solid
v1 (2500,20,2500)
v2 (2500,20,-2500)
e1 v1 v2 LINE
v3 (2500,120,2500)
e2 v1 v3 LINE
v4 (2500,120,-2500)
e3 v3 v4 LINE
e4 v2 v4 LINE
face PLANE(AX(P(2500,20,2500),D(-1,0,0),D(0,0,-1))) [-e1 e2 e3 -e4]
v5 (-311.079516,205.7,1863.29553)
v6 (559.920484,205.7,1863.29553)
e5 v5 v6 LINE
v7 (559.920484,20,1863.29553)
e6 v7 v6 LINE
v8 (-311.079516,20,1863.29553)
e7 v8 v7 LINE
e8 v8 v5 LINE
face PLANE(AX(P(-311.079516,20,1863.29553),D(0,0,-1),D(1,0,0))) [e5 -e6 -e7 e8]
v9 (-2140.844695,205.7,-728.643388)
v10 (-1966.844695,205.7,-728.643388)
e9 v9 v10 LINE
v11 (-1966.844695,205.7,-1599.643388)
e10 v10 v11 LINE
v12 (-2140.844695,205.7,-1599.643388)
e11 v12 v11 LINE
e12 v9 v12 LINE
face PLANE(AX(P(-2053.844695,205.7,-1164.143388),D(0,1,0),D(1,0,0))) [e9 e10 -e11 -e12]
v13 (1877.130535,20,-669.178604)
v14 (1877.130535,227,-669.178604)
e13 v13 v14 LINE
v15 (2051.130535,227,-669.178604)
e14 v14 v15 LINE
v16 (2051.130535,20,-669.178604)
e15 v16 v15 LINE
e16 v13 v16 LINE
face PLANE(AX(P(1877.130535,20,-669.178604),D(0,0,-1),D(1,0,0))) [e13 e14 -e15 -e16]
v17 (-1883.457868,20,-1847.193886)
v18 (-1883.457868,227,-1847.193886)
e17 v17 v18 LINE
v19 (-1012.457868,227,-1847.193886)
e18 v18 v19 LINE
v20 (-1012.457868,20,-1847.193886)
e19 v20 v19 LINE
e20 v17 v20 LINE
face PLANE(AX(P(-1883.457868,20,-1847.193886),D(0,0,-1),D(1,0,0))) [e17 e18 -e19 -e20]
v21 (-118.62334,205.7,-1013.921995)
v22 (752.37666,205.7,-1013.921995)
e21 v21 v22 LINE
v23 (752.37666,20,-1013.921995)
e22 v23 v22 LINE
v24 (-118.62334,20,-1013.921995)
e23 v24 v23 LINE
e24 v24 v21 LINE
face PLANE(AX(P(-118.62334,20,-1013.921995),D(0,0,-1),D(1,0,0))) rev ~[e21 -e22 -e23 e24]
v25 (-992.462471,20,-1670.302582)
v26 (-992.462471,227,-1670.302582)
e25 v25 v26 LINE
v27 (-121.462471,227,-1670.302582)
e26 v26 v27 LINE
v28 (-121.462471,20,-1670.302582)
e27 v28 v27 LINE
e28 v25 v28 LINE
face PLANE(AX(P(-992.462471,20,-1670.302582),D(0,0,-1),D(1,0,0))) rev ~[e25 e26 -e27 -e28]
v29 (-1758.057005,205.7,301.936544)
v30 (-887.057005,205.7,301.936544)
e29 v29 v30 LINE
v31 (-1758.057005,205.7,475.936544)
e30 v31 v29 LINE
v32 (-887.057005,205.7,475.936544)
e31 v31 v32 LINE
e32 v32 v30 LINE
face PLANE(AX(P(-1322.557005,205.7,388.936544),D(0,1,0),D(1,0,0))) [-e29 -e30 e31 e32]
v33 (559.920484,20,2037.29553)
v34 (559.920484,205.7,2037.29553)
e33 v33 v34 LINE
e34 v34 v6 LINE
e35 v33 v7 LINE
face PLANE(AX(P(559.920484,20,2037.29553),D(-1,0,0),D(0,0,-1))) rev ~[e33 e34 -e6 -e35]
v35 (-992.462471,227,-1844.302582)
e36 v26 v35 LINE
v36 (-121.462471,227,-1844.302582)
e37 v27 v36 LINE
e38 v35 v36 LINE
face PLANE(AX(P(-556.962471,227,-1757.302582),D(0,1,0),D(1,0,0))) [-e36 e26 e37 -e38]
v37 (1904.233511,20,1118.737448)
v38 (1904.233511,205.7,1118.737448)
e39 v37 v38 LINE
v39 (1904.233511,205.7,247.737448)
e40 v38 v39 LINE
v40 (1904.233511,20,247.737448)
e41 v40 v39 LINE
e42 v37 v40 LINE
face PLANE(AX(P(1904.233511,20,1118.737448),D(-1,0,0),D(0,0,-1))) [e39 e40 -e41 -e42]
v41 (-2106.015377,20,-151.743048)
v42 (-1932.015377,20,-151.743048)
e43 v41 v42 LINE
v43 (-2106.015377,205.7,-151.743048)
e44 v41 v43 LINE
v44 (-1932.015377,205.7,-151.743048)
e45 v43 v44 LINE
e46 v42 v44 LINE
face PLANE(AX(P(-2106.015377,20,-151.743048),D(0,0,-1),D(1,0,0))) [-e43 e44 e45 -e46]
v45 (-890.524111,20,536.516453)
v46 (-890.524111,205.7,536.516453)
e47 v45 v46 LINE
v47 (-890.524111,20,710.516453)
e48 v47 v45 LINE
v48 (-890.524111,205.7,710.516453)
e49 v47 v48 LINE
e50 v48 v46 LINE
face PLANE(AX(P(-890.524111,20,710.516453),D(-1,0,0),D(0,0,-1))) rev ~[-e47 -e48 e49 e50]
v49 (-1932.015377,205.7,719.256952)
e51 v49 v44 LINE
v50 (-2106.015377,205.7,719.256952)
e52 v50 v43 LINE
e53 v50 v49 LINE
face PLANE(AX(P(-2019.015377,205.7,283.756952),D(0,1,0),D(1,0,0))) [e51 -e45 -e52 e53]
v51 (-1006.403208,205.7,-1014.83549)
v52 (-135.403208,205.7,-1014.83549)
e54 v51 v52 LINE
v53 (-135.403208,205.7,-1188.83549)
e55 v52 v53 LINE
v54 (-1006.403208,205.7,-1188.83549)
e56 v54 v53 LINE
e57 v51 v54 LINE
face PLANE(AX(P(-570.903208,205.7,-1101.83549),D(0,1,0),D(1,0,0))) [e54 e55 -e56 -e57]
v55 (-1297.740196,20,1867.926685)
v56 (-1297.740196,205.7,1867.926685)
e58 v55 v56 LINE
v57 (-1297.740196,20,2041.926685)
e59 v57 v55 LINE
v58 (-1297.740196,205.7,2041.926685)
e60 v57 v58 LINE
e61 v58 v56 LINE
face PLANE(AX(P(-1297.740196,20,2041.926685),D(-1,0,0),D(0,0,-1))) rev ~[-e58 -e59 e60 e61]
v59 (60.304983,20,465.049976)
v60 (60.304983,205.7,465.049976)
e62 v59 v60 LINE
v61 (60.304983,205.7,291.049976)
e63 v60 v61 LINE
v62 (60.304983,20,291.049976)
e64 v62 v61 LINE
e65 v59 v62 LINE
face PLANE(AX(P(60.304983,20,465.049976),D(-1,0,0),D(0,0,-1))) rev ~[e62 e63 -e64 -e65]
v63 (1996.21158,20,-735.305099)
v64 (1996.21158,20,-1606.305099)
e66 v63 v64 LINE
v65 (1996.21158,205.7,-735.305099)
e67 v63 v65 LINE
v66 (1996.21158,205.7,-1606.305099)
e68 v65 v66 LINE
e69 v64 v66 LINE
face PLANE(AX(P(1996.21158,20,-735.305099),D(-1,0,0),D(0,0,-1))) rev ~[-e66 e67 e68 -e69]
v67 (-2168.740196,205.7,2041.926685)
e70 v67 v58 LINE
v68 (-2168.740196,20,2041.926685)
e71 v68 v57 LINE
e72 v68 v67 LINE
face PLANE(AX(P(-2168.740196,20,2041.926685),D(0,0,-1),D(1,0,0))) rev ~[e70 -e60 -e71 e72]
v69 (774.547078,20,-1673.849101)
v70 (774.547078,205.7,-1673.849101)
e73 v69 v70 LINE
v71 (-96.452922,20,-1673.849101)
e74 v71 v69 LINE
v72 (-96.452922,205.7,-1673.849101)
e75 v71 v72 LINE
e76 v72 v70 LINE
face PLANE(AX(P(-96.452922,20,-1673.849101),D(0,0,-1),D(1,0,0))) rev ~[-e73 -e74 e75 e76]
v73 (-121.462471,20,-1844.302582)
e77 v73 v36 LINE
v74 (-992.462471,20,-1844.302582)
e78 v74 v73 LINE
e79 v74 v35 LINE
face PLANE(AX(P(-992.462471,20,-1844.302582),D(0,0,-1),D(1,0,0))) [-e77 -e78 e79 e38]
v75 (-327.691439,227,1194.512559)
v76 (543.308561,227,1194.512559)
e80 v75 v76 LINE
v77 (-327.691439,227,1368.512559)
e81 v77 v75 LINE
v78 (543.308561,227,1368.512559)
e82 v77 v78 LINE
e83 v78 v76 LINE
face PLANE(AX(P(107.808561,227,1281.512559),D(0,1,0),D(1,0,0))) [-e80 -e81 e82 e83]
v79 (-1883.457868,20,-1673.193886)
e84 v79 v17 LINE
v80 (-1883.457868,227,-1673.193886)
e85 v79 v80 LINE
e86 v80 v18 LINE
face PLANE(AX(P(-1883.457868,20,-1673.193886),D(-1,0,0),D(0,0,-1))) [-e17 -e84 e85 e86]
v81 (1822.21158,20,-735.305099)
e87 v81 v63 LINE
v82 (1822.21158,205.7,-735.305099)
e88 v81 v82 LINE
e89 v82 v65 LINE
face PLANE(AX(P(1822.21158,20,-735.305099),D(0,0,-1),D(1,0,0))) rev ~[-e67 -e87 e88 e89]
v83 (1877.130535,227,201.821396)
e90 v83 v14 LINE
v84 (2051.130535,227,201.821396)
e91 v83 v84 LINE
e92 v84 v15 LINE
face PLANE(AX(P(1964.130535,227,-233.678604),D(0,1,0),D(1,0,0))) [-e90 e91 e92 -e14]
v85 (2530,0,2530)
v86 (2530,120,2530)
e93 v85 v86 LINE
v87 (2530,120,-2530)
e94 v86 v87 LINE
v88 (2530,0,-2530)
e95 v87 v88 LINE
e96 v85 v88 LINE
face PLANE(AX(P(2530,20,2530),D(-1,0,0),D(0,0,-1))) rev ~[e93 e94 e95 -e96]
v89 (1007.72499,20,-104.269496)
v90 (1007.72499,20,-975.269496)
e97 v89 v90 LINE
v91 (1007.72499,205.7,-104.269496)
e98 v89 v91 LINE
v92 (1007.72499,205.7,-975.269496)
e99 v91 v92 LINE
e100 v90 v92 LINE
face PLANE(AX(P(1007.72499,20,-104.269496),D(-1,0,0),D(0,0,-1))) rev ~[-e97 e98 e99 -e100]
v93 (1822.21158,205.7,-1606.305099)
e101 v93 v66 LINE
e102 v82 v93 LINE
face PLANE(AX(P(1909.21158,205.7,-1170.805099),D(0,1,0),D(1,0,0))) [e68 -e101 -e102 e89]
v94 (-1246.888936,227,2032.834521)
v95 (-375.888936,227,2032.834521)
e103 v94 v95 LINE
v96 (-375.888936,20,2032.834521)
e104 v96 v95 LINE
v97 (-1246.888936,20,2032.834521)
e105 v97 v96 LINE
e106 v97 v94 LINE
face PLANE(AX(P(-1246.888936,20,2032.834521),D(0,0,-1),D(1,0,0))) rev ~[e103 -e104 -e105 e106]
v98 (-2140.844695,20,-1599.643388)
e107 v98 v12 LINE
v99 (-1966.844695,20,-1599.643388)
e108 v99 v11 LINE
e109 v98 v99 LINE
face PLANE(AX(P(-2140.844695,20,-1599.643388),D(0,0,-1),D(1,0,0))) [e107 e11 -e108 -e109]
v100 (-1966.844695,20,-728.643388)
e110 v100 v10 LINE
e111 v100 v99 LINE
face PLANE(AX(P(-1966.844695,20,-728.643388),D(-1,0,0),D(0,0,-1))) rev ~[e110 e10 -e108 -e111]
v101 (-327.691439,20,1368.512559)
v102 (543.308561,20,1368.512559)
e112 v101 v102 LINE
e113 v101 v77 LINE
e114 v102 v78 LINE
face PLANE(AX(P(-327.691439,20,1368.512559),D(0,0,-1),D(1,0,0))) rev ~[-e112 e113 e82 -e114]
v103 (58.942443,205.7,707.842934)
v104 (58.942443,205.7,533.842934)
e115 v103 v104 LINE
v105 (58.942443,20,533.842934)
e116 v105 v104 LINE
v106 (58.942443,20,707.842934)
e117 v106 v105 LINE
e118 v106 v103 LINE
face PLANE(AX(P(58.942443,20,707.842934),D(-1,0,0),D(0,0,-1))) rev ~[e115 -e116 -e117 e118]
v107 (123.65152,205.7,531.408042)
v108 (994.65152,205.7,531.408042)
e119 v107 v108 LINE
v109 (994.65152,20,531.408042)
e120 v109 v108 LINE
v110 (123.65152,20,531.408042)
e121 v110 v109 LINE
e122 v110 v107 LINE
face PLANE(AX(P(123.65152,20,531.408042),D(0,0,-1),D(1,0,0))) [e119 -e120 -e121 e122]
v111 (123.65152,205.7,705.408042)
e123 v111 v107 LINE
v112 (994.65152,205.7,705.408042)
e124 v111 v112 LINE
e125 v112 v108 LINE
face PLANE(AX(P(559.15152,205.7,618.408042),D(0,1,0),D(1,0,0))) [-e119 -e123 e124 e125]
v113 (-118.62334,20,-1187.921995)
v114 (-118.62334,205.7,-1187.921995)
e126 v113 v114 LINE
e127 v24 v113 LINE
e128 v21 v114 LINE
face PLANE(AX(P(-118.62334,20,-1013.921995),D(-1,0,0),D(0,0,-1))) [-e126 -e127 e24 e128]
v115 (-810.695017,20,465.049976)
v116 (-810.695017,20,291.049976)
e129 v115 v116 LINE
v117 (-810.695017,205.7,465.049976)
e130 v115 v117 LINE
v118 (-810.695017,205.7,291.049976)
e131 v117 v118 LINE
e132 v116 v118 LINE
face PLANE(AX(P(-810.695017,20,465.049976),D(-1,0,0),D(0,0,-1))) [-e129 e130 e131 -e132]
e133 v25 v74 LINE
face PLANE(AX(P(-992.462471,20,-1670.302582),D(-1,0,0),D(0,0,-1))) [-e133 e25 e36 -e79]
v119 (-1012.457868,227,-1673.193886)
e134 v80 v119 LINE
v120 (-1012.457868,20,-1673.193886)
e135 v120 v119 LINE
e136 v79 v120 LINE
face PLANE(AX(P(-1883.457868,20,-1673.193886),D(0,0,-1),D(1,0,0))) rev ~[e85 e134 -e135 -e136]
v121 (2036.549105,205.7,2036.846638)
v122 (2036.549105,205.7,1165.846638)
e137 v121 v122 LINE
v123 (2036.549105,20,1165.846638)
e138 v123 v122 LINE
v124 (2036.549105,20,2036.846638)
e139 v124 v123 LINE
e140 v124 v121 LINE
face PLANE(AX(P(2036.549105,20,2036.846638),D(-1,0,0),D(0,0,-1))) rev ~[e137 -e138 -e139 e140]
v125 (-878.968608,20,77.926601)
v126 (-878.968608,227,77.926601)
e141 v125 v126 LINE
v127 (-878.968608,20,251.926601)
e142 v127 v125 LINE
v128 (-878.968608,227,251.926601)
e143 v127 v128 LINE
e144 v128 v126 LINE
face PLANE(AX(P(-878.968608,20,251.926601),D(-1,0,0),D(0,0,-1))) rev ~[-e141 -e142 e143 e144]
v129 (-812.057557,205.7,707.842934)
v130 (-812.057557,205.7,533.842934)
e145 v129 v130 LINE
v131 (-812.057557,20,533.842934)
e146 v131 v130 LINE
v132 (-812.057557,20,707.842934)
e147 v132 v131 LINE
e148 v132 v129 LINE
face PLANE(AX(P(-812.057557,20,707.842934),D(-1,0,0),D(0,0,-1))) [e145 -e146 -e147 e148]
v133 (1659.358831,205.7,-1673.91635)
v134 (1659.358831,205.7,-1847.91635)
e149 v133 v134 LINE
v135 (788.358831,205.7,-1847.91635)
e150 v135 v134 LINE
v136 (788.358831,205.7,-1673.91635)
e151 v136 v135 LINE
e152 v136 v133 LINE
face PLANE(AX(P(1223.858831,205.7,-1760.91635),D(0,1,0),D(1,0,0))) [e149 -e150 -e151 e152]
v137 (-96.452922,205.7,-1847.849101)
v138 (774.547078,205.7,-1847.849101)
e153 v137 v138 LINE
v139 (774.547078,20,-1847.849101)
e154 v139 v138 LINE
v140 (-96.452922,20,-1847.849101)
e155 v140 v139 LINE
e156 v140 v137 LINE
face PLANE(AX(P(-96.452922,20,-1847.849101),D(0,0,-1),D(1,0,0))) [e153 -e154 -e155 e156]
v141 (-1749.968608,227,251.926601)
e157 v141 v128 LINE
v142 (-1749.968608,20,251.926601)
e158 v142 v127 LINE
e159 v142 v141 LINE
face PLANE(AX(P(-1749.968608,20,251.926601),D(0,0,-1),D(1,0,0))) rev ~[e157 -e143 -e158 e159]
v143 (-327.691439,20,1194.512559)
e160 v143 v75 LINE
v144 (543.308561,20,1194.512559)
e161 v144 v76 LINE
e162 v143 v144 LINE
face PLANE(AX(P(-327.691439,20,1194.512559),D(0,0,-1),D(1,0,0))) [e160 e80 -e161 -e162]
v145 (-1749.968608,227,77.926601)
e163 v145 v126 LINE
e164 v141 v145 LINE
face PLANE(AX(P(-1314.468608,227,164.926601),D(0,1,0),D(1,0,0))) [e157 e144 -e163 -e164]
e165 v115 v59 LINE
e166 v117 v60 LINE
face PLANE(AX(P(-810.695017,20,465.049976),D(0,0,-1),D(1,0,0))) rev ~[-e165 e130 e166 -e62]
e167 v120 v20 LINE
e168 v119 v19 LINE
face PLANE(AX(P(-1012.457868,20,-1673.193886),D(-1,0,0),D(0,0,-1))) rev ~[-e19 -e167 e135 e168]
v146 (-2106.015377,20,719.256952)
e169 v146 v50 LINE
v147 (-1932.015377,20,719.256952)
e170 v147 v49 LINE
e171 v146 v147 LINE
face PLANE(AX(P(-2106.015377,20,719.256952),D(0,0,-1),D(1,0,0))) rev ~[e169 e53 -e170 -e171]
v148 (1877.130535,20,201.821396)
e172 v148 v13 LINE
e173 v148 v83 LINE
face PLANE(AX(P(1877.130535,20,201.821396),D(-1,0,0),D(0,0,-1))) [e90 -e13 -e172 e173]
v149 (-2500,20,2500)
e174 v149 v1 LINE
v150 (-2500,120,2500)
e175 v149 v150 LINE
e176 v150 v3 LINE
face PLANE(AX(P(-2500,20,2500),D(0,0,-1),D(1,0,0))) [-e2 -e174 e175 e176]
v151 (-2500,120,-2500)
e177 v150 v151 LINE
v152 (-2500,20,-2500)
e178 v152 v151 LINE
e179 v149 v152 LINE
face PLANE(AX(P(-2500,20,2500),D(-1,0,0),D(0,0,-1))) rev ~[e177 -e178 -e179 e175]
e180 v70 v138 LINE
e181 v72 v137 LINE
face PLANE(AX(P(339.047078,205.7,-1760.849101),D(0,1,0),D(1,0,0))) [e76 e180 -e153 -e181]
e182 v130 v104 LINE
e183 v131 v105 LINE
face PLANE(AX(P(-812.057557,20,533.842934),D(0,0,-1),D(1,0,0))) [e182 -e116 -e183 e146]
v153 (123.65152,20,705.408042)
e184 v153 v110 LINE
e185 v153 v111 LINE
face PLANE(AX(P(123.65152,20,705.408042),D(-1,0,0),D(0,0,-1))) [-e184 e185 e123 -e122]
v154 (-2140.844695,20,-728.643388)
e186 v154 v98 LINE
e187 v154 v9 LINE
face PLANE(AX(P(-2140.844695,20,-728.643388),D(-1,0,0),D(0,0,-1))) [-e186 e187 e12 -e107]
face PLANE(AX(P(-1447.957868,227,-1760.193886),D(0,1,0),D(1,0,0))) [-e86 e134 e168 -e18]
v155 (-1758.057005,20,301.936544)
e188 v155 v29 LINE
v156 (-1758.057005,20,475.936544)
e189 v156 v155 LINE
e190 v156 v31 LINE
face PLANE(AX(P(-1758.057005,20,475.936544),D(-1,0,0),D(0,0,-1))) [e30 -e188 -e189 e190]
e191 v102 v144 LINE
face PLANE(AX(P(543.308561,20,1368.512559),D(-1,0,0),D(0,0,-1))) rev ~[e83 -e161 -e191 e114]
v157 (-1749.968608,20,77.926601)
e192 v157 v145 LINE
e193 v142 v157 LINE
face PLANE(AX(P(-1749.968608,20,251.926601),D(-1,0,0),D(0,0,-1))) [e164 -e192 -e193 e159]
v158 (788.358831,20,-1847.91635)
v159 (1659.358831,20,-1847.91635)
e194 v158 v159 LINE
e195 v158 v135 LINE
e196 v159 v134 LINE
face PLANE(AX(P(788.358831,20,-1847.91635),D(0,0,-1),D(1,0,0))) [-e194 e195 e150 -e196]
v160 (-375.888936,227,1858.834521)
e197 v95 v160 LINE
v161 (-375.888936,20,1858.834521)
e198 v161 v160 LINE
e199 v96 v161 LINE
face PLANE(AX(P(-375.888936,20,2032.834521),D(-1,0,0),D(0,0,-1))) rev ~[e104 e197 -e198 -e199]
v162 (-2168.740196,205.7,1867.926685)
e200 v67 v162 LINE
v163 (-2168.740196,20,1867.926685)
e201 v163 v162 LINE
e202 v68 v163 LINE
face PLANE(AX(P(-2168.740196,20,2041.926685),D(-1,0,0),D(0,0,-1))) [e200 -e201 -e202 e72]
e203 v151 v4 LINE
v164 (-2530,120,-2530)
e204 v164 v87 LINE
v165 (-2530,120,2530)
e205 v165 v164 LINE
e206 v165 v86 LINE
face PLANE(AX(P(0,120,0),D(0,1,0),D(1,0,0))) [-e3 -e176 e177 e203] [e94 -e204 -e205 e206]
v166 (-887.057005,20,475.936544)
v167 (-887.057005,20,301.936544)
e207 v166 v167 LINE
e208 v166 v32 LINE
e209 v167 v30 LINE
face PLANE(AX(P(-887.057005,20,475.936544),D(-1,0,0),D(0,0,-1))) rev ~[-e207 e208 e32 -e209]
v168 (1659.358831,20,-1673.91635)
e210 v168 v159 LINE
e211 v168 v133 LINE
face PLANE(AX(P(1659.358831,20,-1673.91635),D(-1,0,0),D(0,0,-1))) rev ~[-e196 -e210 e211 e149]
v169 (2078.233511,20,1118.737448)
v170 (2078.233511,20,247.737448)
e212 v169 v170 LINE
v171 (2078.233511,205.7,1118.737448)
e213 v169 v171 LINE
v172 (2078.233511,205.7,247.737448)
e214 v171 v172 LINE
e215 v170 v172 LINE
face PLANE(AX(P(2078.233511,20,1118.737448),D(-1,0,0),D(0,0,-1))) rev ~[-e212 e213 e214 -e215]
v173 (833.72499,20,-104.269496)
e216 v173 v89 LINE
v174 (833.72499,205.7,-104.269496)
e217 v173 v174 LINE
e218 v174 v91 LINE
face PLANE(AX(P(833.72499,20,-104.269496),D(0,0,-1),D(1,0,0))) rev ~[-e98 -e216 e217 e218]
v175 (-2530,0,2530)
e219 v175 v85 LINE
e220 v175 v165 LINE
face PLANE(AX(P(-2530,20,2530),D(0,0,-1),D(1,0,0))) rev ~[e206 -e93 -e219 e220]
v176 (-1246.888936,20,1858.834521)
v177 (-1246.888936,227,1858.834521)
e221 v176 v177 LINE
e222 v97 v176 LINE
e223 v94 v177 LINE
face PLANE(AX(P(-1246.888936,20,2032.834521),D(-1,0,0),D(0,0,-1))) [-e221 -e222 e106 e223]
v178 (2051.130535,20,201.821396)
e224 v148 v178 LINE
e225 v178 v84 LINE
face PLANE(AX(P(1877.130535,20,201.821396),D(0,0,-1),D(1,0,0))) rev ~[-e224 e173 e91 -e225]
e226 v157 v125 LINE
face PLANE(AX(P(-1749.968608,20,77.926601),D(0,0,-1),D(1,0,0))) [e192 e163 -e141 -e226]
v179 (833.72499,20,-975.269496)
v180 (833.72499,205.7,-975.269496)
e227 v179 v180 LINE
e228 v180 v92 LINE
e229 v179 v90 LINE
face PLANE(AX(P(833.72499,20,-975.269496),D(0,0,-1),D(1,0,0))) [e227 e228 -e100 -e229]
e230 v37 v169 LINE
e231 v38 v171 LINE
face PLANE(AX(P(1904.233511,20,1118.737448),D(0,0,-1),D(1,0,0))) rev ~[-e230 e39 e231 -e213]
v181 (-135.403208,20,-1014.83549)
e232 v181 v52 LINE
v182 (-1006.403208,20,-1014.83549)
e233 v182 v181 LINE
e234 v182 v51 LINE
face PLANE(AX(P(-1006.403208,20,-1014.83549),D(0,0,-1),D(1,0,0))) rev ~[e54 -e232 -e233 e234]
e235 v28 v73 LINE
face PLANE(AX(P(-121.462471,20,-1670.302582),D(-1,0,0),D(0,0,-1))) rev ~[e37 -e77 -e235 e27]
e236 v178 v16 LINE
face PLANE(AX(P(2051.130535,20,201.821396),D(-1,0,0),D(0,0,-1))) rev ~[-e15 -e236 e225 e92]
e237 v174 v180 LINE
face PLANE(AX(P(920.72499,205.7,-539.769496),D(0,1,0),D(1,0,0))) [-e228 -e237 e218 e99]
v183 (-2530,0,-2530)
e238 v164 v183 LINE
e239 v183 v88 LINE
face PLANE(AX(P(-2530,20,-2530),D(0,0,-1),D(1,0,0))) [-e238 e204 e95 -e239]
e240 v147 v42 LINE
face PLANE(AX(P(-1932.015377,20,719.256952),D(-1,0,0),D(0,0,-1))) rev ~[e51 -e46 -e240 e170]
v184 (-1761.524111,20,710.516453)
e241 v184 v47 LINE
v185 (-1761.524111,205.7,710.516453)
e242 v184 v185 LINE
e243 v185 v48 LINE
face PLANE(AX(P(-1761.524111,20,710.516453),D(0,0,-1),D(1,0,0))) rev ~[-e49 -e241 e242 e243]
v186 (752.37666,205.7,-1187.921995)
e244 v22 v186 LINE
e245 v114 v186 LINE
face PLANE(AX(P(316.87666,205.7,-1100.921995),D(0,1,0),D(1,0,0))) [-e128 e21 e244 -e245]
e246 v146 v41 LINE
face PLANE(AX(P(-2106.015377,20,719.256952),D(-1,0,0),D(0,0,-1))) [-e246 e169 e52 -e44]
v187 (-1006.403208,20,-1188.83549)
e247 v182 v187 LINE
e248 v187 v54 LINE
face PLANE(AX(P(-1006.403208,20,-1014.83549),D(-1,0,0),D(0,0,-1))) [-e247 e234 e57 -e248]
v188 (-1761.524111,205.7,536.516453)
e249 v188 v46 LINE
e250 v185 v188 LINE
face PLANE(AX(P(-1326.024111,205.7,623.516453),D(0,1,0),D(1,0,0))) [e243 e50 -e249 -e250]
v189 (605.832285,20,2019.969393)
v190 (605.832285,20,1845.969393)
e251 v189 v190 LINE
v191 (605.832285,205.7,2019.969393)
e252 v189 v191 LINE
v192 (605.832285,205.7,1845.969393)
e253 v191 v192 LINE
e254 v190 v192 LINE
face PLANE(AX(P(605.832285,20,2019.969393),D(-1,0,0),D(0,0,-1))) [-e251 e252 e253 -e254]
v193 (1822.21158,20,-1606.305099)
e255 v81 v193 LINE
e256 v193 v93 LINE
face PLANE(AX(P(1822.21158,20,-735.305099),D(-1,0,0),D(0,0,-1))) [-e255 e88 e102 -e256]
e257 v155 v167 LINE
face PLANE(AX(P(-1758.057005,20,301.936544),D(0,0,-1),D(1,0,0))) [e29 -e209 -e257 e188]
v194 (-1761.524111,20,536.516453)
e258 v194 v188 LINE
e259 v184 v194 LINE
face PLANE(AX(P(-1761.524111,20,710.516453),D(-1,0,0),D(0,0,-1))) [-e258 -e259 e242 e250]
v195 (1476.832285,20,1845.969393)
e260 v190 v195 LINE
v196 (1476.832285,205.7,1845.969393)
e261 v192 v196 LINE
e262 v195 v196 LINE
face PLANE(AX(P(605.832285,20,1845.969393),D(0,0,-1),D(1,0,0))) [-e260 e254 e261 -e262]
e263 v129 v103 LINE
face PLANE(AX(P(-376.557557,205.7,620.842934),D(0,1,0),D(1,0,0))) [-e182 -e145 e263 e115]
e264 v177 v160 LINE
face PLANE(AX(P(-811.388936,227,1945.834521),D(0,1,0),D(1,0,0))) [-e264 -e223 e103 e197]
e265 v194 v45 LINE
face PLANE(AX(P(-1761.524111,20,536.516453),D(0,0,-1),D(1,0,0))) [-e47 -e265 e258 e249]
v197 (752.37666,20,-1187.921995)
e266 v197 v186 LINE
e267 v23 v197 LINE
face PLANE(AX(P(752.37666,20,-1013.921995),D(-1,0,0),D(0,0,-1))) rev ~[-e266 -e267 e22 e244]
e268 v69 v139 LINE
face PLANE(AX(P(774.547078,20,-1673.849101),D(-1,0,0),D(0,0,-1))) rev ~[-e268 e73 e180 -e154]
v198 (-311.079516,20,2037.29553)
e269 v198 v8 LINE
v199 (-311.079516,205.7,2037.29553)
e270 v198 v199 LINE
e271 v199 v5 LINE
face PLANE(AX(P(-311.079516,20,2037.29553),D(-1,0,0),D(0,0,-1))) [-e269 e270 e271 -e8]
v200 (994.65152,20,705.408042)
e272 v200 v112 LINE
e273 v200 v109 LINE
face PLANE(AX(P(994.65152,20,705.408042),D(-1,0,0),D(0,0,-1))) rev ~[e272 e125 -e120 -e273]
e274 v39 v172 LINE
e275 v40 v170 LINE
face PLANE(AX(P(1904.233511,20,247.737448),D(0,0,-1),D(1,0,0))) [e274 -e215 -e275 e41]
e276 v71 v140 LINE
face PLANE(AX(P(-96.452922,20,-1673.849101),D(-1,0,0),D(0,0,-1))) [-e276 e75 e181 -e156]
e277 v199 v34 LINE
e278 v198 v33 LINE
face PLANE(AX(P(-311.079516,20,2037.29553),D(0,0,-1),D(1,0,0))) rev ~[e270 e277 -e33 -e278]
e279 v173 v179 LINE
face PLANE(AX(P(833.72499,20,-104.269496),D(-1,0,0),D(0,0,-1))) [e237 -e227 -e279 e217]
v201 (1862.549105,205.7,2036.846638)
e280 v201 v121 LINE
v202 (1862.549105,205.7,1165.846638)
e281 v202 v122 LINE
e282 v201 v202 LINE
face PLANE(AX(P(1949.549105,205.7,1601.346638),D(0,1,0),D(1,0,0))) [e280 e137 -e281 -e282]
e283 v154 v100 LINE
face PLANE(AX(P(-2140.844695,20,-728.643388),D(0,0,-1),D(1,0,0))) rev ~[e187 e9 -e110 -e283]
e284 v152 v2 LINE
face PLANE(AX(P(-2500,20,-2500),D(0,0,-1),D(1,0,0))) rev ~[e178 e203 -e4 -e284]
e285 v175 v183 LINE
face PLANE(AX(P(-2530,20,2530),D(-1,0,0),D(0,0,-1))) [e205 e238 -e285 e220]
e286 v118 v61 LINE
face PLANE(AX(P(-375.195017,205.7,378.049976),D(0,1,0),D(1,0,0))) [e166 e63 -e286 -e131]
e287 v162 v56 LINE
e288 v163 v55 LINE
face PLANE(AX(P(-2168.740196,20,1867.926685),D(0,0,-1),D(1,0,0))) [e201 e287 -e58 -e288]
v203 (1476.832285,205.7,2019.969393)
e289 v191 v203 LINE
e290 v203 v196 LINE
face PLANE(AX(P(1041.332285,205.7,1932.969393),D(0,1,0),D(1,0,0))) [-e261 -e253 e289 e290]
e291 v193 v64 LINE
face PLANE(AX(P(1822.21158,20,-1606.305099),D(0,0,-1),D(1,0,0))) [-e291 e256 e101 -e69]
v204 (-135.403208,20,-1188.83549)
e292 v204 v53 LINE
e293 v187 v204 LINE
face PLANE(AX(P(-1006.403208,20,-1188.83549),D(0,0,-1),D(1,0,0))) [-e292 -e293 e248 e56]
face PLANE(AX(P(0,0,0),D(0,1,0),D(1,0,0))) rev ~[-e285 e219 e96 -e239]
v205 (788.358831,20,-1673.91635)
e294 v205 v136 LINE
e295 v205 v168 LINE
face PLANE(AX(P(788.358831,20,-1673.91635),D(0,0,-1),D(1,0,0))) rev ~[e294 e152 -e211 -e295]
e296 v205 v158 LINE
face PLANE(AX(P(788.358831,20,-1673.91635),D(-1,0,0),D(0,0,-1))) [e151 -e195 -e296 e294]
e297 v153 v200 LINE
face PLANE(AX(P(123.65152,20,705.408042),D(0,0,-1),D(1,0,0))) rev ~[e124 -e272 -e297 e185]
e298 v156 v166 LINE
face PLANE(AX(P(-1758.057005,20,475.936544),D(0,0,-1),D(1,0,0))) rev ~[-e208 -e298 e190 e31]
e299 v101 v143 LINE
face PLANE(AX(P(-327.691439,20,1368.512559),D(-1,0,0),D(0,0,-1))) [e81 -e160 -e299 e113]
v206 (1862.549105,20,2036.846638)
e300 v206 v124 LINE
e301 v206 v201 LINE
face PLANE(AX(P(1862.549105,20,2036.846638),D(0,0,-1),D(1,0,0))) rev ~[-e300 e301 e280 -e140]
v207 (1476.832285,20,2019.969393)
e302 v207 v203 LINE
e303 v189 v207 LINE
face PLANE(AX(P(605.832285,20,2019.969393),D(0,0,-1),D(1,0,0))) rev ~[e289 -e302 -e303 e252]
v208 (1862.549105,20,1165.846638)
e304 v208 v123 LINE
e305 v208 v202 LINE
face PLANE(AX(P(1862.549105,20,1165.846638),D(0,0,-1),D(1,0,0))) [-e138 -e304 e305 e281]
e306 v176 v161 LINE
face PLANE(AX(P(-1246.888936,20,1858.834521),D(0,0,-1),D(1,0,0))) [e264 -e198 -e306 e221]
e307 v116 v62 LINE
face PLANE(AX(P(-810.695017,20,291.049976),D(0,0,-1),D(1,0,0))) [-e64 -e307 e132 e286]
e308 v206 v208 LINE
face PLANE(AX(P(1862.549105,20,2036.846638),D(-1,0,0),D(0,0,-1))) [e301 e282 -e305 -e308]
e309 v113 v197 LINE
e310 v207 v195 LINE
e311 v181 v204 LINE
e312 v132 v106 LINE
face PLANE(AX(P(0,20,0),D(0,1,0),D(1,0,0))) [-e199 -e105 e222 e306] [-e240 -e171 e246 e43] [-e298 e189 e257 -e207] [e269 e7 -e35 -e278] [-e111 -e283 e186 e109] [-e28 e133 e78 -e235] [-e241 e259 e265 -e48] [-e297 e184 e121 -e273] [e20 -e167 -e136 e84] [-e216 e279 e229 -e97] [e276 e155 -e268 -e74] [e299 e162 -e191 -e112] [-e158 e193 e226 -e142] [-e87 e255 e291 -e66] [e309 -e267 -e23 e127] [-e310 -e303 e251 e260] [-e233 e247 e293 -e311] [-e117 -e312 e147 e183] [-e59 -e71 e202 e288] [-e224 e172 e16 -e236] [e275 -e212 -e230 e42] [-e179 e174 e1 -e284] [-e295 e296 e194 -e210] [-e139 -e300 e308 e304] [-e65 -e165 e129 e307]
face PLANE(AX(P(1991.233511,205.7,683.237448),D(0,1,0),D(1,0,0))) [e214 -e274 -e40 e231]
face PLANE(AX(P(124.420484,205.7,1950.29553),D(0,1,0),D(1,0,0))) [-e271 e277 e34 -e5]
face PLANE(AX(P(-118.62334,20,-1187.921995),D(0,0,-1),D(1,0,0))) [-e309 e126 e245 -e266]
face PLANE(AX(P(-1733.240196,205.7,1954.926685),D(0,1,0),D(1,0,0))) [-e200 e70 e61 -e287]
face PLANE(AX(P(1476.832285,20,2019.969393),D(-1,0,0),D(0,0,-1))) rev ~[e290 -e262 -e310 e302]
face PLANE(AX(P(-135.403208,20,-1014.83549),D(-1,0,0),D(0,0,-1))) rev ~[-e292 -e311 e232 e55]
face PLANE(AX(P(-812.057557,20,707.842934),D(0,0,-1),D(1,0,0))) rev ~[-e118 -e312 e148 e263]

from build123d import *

# Parameters (mm, degrees)
IZIM2_W                      = 5060
IZIM2_H                      = 5060
Y_KSEKLIK_EKSTR_ZYON1_DEPTH  = 20
IZIM3_W                      = 5060
IZIM3_H                      = 5060
IZIM3_W_2                    = 5000
IZIM3_H_2                    = 5000
Y_KSEKLIK_EKSTR_ZYON2_DEPTH  = 100
IZIM4_W                      = 871
IZIM4_H                      = 174
Y_KSEKLIK_EKSTR_ZYON3_DEPTH  = 207
IZIM5_W                      = 871
IZIM5_H                      = 174
Y_KSEKLIK_EKSTR_ZYON4_DEPTH  = 207
IZIM6_W                      = 871
IZIM6_H                      = 174
Y_KSEKLIK_EKSTR_ZYON5_DEPTH  = 185.7
IZIM7_W                      = 871
IZIM7_H                      = 174
Y_KSEKLIK_EKSTR_ZYON6_DEPTH  = 185.7
IZIM8_W                      = 871
IZIM8_H                      = 174
Y_KSEKLIK_EKSTR_ZYON7_DEPTH  = 185.7
IZIM9_W                      = 871
IZIM9_H                      = 174
Y_KSEKLIK_EKSTR_ZYON8_DEPTH  = 185.7
IZIM10_W                     = 871
IZIM10_H                     = 174
Y_KSEKLIK_EKSTR_ZYON9_DEPTH  = 207
IZIM11_W                     = 871
IZIM11_H                     = 174
Y_KSEKLIK_EKSTR_ZYON10_DEPTH = 185.7
IZIM12_W                     = 871
IZIM12_H                     = 174
Y_KSEKLIK_EKSTR_ZYON11_DEPTH = 185.7
IZIM18_W                     = 174
IZIM18_H                     = 871
Y_KSEKLIK_EKSTR_ZYON12_DEPTH = 185.7
IZIM13_W                     = 174
IZIM13_H                     = 871
Y_KSEKLIK_EKSTR_ZYON13_DEPTH = 185.7
IZIM17_W                     = 174
IZIM17_H                     = 871
Y_KSEKLIK_EKSTR_ZYON14_DEPTH = 207
IZIM19_W                     = 174
IZIM19_H                     = 871
Y_KSEKLIK_EKSTR_ZYON15_DEPTH = 185.7
IZIM20_W                     = 174
IZIM20_H                     = 871
Y_KSEKLIK_EKSTR_ZYON16_DEPTH = 185.7
IZIM21_W                     = 174
IZIM21_H                     = 871
Y_KSEKLIK_EKSTR_ZYON17_DEPTH = 185.7
IZIM22_W                     = 871
IZIM22_H                     = 174
Y_KSEKLIK_EKSTR_ZYON18_DEPTH = 185.7
IZIM23_W                     = 871
IZIM23_H                     = 174
Y_KSEKLIK_EKSTR_ZYON19_DEPTH = 185.7
IZIM24_W                     = 871
IZIM24_H                     = 174
Y_KSEKLIK_EKSTR_ZYON20_DEPTH = 185.7
IZIM25_W                     = 871
IZIM25_H                     = 174
Y_KSEKLIK_EKSTR_ZYON21_DEPTH = 207
IZIM26_W                     = 871
IZIM26_H                     = 174
Y_KSEKLIK_EKSTR_ZYON22_DEPTH = 185.7
IZIM28_W                     = 871
IZIM28_H                     = 174
Y_KSEKLIK_EKSTR_ZYON23_DEPTH = 207
IZIM27_W                     = 871
IZIM27_H                     = 174
Y_KSEKLIK_EKSTR_ZYON24_DEPTH = 185.7
IZIM29_W                     = 871
IZIM29_H                     = 174
Y_KSEKLIK_EKSTR_ZYON25_DEPTH = 185.7
IZIM30_W                     = 174
IZIM30_H                     = 871
Y_KSEKLIK_EKSTR_ZYON26_DEPTH = 185.7


with BuildPart() as part:
    # Çizim2 → Yükseklik-Ekstrüzyon1 (new body)
    with BuildSketch(Plane(origin=(0, 0, 0), x_dir=(1, 0, 0), z_dir=(0, 1, 0))):
        Rectangle(IZIM2_W, IZIM2_H)
    extrude(amount=Y_KSEKLIK_EKSTR_ZYON1_DEPTH)

    # Çizim3 → Yükseklik-Ekstrüzyon2 (add)
    with BuildSketch(Plane(origin=(0, 20, 0), x_dir=(1, 0, 0), z_dir=(0, 1, 0))):
        Rectangle(IZIM3_W, IZIM3_H)
        Rectangle(IZIM3_W_2, IZIM3_H_2, mode=Mode.SUBTRACT)
    extrude(amount=Y_KSEKLIK_EKSTR_ZYON2_DEPTH)

    # Çizim4 → Yükseklik-Ekstrüzyon3 (add)
    with BuildSketch(Plane(origin=(0, 20, 0), x_dir=(1, 0, 0), z_dir=(0, 1, 0))):
        with Locations((-1447.957868124, 1760.193885562)):
            Rectangle(IZIM4_W, IZIM4_H)
    extrude(amount=Y_KSEKLIK_EKSTR_ZYON3_DEPTH)

    # Çizim5 → Yükseklik-Ekstrüzyon4 (add)
    with BuildSketch(Plane(origin=(0, 20, 0), x_dir=(1, 0, 0), z_dir=(0, 1, 0))):
        with Locations((-556.962470649, 1757.302581604)):
            Rectangle(IZIM5_W, IZIM5_H)
    extrude(amount=Y_KSEKLIK_EKSTR_ZYON4_DEPTH)

    # Çizim6 → Yükseklik-Ekstrüzyon5 (add)
    with BuildSketch(Plane(origin=(0, 20, 0), x_dir=(1, 0, 0), z_dir=(0, 1, 0))):
        with Locations((339.047077841, 1760.84910081)):
            Rectangle(IZIM6_W, IZIM6_H)
    extrude(amount=Y_KSEKLIK_EKSTR_ZYON5_DEPTH)

    # Çizim7 → Yükseklik-Ekstrüzyon6 (add)
    with BuildSketch(Plane(origin=(0, 20, 0), x_dir=(1, 0, 0), z_dir=(0, 1, 0))):
        with Locations((-570.903208445, 1101.835490201)):
            Rectangle(IZIM7_W, IZIM7_H)
    extrude(amount=Y_KSEKLIK_EKSTR_ZYON6_DEPTH)

    # Çizim8 → Yükseklik-Ekstrüzyon7 (add)
    with BuildSketch(Plane(origin=(0, 20, 0), x_dir=(1, 0, 0), z_dir=(0, 1, 0))):
        with Locations((316.876659873, 1100.921994771)):
            Rectangle(IZIM8_W, IZIM8_H)
    extrude(amount=Y_KSEKLIK_EKSTR_ZYON7_DEPTH)

    # Çizim9 → Yükseklik-Ekstrüzyon8 (add)
    with BuildSketch(Plane(origin=(0, 20, 0), x_dir=(1, 0, 0), z_dir=(0, 1, 0))):
        with Locations((-375.195016834, -378.049975519)):
            Rectangle(IZIM9_W, IZIM9_H)
    extrude(amount=Y_KSEKLIK_EKSTR_ZYON8_DEPTH)

    # Çizim10 → Yükseklik-Ekstrüzyon9 (add)
    with BuildSketch(Plane(origin=(0, 20, 0), x_dir=(1, 0, 0), z_dir=(0, 1, 0))):
        with Locations((-1314.468607653, -164.926600722)):
            Rectangle(IZIM10_W, IZIM10_H)
    extrude(amount=Y_KSEKLIK_EKSTR_ZYON9_DEPTH)

    # Çizim11 → Yükseklik-Ekstrüzyon10 (add)
    with BuildSketch(Plane(origin=(0, 20, 0), x_dir=(1, 0, 0), z_dir=(0, 1, 0))):
        with Locations((1041.332284797, -1932.969392618)):
            Rectangle(IZIM11_W, IZIM11_H)
    extrude(amount=Y_KSEKLIK_EKSTR_ZYON10_DEPTH)

    # Çizim12 → Yükseklik-Ekstrüzyon11 (add)
    with BuildSketch(Plane(origin=(0, 20, 0), x_dir=(1, 0, 0), z_dir=(0, 1, 0))):
        with Locations((1223.858831325, 1760.916349533)):
            Rectangle(IZIM12_W, IZIM12_H)
    extrude(amount=Y_KSEKLIK_EKSTR_ZYON11_DEPTH)

    # Çizim18 → Yükseklik-Ekstrüzyon12 (add)
    with BuildSketch(Plane(origin=(0, 20, 0), x_dir=(1, 0, 0), z_dir=(0, 1, 0))):
        with Locations((1991.233510758, -683.237447543)):
            Rectangle(IZIM18_W, IZIM18_H)
    extrude(amount=Y_KSEKLIK_EKSTR_ZYON12_DEPTH)

    # Çizim13 → Yükseklik-Ekstrüzyon13 (add)
    with BuildSketch(Plane(origin=(0, 20, 0), x_dir=(1, 0, 0), z_dir=(0, 1, 0))):
        with Locations((1909.211579927, 1170.80509888)):
            Rectangle(IZIM13_W, IZIM13_H)
    extrude(amount=Y_KSEKLIK_EKSTR_ZYON13_DEPTH)

    # Çizim17 → Yükseklik-Ekstrüzyon14 (add)
    with BuildSketch(Plane(origin=(0, 20, 0), x_dir=(1, 0, 0), z_dir=(0, 1, 0))):
        with Locations((1964.13053487, 233.678603717)):
            Rectangle(IZIM17_W, IZIM17_H)
    extrude(amount=Y_KSEKLIK_EKSTR_ZYON14_DEPTH)

    # Çizim19 → Yükseklik-Ekstrüzyon15 (add)
    with BuildSketch(Plane(origin=(0, 20, 0), x_dir=(1, 0, 0), z_dir=(0, 1, 0))):
        with Locations((-2053.844695073, 1164.143387532)):
            Rectangle(IZIM19_W, IZIM19_H)
    extrude(amount=Y_KSEKLIK_EKSTR_ZYON15_DEPTH)

    # Çizim20 → Yükseklik-Ekstrüzyon16 (add)
    with BuildSketch(Plane(origin=(0, 20, 0), x_dir=(1, 0, 0), z_dir=(0, 1, 0))):
        with Locations((920.72498976, 539.769496495)):
            Rectangle(IZIM20_W, IZIM20_H)
    extrude(amount=Y_KSEKLIK_EKSTR_ZYON16_DEPTH)

    # Çizim21 → Yükseklik-Ekstrüzyon17 (add)
    with BuildSketch(Plane(origin=(0, 20, 0), x_dir=(1, 0, 0), z_dir=(0, 1, 0))):
        with Locations((1949.549104769, -1601.346637864)):
            Rectangle(IZIM21_W, IZIM21_H)
    extrude(amount=Y_KSEKLIK_EKSTR_ZYON17_DEPTH)

    # Çizim22 → Yükseklik-Ekstrüzyon18 (add)
    with BuildSketch(Plane(origin=(0, 20, 0), x_dir=(1, 0, 0), z_dir=(0, 1, 0))):
        with Locations((-376.557557317, -620.842933612)):
            Rectangle(IZIM22_W, IZIM22_H)
    extrude(amount=Y_KSEKLIK_EKSTR_ZYON18_DEPTH)

    # Çizim23 → Yükseklik-Ekstrüzyon19 (add)
    with BuildSketch(Plane(origin=(0, 20, 0), x_dir=(1, 0, 0), z_dir=(0, 1, 0))):
        with Locations((-1326.024111416, -623.516452973)):
            Rectangle(IZIM23_W, IZIM23_H)
    extrude(amount=Y_KSEKLIK_EKSTR_ZYON19_DEPTH)

    # Çizim24 → Yükseklik-Ekstrüzyon20 (add)
    with BuildSketch(Plane(origin=(0, 20, 0), x_dir=(1, 0, 0), z_dir=(0, 1, 0))):
        with Locations((-1322.557004683, -388.936544417)):
            Rectangle(IZIM24_W, IZIM24_H)
    extrude(amount=Y_KSEKLIK_EKSTR_ZYON20_DEPTH)

    # Çizim25 → Yükseklik-Ekstrüzyon21 (add)
    with BuildSketch(Plane(origin=(0, 20, 0), x_dir=(1, 0, 0), z_dir=(0, 1, 0))):
        with Locations((107.808561485, -1281.512558826)):
            Rectangle(IZIM25_W, IZIM25_H)
    extrude(amount=Y_KSEKLIK_EKSTR_ZYON21_DEPTH)

    # Çizim26 → Yükseklik-Ekstrüzyon22 (add)
    with BuildSketch(Plane(origin=(0, 20, 0), x_dir=(1, 0, 0), z_dir=(0, 1, 0))):
        with Locations((559.151520406, -618.408042064)):
            Rectangle(IZIM26_W, IZIM26_H)
    extrude(amount=Y_KSEKLIK_EKSTR_ZYON22_DEPTH)

    # Çizim28 → Yükseklik-Ekstrüzyon23 (add)
    with BuildSketch(Plane(origin=(0, 20, 0), x_dir=(1, 0, 0), z_dir=(0, 1, 0))):
        with Locations((-811.388936297, -1945.834521363)):
            Rectangle(IZIM28_W, IZIM28_H)
    extrude(amount=Y_KSEKLIK_EKSTR_ZYON23_DEPTH)

    # Çizim27 → Yükseklik-Ekstrüzyon24 (add)
    with BuildSketch(Plane(origin=(0, 20, 0), x_dir=(1, 0, 0), z_dir=(0, 1, 0))):
        with Locations((124.420483528, -1950.295529657)):
            Rectangle(IZIM27_W, IZIM27_H)
    extrude(amount=Y_KSEKLIK_EKSTR_ZYON24_DEPTH)

    # Çizim29 → Yükseklik-Ekstrüzyon25 (add)
    with BuildSketch(Plane(origin=(0, 20, 0), x_dir=(1, 0, 0), z_dir=(0, 1, 0))):
        with Locations((-1733.240195544, -1954.926684942)):
            Rectangle(IZIM29_W, IZIM29_H)
    extrude(amount=Y_KSEKLIK_EKSTR_ZYON25_DEPTH)

    # Çizim30 → Yükseklik-Ekstrüzyon26 (add)
    with BuildSketch(Plane(origin=(0, 20, 0), x_dir=(1, 0, 0), z_dir=(0, 1, 0))):
        with Locations((-2019.015377363, -283.756951612)):
            Rectangle(IZIM30_W, IZIM30_H)
    extrude(amount=Y_KSEKLIK_EKSTR_ZYON26_DEPTH)


solid = part.part
